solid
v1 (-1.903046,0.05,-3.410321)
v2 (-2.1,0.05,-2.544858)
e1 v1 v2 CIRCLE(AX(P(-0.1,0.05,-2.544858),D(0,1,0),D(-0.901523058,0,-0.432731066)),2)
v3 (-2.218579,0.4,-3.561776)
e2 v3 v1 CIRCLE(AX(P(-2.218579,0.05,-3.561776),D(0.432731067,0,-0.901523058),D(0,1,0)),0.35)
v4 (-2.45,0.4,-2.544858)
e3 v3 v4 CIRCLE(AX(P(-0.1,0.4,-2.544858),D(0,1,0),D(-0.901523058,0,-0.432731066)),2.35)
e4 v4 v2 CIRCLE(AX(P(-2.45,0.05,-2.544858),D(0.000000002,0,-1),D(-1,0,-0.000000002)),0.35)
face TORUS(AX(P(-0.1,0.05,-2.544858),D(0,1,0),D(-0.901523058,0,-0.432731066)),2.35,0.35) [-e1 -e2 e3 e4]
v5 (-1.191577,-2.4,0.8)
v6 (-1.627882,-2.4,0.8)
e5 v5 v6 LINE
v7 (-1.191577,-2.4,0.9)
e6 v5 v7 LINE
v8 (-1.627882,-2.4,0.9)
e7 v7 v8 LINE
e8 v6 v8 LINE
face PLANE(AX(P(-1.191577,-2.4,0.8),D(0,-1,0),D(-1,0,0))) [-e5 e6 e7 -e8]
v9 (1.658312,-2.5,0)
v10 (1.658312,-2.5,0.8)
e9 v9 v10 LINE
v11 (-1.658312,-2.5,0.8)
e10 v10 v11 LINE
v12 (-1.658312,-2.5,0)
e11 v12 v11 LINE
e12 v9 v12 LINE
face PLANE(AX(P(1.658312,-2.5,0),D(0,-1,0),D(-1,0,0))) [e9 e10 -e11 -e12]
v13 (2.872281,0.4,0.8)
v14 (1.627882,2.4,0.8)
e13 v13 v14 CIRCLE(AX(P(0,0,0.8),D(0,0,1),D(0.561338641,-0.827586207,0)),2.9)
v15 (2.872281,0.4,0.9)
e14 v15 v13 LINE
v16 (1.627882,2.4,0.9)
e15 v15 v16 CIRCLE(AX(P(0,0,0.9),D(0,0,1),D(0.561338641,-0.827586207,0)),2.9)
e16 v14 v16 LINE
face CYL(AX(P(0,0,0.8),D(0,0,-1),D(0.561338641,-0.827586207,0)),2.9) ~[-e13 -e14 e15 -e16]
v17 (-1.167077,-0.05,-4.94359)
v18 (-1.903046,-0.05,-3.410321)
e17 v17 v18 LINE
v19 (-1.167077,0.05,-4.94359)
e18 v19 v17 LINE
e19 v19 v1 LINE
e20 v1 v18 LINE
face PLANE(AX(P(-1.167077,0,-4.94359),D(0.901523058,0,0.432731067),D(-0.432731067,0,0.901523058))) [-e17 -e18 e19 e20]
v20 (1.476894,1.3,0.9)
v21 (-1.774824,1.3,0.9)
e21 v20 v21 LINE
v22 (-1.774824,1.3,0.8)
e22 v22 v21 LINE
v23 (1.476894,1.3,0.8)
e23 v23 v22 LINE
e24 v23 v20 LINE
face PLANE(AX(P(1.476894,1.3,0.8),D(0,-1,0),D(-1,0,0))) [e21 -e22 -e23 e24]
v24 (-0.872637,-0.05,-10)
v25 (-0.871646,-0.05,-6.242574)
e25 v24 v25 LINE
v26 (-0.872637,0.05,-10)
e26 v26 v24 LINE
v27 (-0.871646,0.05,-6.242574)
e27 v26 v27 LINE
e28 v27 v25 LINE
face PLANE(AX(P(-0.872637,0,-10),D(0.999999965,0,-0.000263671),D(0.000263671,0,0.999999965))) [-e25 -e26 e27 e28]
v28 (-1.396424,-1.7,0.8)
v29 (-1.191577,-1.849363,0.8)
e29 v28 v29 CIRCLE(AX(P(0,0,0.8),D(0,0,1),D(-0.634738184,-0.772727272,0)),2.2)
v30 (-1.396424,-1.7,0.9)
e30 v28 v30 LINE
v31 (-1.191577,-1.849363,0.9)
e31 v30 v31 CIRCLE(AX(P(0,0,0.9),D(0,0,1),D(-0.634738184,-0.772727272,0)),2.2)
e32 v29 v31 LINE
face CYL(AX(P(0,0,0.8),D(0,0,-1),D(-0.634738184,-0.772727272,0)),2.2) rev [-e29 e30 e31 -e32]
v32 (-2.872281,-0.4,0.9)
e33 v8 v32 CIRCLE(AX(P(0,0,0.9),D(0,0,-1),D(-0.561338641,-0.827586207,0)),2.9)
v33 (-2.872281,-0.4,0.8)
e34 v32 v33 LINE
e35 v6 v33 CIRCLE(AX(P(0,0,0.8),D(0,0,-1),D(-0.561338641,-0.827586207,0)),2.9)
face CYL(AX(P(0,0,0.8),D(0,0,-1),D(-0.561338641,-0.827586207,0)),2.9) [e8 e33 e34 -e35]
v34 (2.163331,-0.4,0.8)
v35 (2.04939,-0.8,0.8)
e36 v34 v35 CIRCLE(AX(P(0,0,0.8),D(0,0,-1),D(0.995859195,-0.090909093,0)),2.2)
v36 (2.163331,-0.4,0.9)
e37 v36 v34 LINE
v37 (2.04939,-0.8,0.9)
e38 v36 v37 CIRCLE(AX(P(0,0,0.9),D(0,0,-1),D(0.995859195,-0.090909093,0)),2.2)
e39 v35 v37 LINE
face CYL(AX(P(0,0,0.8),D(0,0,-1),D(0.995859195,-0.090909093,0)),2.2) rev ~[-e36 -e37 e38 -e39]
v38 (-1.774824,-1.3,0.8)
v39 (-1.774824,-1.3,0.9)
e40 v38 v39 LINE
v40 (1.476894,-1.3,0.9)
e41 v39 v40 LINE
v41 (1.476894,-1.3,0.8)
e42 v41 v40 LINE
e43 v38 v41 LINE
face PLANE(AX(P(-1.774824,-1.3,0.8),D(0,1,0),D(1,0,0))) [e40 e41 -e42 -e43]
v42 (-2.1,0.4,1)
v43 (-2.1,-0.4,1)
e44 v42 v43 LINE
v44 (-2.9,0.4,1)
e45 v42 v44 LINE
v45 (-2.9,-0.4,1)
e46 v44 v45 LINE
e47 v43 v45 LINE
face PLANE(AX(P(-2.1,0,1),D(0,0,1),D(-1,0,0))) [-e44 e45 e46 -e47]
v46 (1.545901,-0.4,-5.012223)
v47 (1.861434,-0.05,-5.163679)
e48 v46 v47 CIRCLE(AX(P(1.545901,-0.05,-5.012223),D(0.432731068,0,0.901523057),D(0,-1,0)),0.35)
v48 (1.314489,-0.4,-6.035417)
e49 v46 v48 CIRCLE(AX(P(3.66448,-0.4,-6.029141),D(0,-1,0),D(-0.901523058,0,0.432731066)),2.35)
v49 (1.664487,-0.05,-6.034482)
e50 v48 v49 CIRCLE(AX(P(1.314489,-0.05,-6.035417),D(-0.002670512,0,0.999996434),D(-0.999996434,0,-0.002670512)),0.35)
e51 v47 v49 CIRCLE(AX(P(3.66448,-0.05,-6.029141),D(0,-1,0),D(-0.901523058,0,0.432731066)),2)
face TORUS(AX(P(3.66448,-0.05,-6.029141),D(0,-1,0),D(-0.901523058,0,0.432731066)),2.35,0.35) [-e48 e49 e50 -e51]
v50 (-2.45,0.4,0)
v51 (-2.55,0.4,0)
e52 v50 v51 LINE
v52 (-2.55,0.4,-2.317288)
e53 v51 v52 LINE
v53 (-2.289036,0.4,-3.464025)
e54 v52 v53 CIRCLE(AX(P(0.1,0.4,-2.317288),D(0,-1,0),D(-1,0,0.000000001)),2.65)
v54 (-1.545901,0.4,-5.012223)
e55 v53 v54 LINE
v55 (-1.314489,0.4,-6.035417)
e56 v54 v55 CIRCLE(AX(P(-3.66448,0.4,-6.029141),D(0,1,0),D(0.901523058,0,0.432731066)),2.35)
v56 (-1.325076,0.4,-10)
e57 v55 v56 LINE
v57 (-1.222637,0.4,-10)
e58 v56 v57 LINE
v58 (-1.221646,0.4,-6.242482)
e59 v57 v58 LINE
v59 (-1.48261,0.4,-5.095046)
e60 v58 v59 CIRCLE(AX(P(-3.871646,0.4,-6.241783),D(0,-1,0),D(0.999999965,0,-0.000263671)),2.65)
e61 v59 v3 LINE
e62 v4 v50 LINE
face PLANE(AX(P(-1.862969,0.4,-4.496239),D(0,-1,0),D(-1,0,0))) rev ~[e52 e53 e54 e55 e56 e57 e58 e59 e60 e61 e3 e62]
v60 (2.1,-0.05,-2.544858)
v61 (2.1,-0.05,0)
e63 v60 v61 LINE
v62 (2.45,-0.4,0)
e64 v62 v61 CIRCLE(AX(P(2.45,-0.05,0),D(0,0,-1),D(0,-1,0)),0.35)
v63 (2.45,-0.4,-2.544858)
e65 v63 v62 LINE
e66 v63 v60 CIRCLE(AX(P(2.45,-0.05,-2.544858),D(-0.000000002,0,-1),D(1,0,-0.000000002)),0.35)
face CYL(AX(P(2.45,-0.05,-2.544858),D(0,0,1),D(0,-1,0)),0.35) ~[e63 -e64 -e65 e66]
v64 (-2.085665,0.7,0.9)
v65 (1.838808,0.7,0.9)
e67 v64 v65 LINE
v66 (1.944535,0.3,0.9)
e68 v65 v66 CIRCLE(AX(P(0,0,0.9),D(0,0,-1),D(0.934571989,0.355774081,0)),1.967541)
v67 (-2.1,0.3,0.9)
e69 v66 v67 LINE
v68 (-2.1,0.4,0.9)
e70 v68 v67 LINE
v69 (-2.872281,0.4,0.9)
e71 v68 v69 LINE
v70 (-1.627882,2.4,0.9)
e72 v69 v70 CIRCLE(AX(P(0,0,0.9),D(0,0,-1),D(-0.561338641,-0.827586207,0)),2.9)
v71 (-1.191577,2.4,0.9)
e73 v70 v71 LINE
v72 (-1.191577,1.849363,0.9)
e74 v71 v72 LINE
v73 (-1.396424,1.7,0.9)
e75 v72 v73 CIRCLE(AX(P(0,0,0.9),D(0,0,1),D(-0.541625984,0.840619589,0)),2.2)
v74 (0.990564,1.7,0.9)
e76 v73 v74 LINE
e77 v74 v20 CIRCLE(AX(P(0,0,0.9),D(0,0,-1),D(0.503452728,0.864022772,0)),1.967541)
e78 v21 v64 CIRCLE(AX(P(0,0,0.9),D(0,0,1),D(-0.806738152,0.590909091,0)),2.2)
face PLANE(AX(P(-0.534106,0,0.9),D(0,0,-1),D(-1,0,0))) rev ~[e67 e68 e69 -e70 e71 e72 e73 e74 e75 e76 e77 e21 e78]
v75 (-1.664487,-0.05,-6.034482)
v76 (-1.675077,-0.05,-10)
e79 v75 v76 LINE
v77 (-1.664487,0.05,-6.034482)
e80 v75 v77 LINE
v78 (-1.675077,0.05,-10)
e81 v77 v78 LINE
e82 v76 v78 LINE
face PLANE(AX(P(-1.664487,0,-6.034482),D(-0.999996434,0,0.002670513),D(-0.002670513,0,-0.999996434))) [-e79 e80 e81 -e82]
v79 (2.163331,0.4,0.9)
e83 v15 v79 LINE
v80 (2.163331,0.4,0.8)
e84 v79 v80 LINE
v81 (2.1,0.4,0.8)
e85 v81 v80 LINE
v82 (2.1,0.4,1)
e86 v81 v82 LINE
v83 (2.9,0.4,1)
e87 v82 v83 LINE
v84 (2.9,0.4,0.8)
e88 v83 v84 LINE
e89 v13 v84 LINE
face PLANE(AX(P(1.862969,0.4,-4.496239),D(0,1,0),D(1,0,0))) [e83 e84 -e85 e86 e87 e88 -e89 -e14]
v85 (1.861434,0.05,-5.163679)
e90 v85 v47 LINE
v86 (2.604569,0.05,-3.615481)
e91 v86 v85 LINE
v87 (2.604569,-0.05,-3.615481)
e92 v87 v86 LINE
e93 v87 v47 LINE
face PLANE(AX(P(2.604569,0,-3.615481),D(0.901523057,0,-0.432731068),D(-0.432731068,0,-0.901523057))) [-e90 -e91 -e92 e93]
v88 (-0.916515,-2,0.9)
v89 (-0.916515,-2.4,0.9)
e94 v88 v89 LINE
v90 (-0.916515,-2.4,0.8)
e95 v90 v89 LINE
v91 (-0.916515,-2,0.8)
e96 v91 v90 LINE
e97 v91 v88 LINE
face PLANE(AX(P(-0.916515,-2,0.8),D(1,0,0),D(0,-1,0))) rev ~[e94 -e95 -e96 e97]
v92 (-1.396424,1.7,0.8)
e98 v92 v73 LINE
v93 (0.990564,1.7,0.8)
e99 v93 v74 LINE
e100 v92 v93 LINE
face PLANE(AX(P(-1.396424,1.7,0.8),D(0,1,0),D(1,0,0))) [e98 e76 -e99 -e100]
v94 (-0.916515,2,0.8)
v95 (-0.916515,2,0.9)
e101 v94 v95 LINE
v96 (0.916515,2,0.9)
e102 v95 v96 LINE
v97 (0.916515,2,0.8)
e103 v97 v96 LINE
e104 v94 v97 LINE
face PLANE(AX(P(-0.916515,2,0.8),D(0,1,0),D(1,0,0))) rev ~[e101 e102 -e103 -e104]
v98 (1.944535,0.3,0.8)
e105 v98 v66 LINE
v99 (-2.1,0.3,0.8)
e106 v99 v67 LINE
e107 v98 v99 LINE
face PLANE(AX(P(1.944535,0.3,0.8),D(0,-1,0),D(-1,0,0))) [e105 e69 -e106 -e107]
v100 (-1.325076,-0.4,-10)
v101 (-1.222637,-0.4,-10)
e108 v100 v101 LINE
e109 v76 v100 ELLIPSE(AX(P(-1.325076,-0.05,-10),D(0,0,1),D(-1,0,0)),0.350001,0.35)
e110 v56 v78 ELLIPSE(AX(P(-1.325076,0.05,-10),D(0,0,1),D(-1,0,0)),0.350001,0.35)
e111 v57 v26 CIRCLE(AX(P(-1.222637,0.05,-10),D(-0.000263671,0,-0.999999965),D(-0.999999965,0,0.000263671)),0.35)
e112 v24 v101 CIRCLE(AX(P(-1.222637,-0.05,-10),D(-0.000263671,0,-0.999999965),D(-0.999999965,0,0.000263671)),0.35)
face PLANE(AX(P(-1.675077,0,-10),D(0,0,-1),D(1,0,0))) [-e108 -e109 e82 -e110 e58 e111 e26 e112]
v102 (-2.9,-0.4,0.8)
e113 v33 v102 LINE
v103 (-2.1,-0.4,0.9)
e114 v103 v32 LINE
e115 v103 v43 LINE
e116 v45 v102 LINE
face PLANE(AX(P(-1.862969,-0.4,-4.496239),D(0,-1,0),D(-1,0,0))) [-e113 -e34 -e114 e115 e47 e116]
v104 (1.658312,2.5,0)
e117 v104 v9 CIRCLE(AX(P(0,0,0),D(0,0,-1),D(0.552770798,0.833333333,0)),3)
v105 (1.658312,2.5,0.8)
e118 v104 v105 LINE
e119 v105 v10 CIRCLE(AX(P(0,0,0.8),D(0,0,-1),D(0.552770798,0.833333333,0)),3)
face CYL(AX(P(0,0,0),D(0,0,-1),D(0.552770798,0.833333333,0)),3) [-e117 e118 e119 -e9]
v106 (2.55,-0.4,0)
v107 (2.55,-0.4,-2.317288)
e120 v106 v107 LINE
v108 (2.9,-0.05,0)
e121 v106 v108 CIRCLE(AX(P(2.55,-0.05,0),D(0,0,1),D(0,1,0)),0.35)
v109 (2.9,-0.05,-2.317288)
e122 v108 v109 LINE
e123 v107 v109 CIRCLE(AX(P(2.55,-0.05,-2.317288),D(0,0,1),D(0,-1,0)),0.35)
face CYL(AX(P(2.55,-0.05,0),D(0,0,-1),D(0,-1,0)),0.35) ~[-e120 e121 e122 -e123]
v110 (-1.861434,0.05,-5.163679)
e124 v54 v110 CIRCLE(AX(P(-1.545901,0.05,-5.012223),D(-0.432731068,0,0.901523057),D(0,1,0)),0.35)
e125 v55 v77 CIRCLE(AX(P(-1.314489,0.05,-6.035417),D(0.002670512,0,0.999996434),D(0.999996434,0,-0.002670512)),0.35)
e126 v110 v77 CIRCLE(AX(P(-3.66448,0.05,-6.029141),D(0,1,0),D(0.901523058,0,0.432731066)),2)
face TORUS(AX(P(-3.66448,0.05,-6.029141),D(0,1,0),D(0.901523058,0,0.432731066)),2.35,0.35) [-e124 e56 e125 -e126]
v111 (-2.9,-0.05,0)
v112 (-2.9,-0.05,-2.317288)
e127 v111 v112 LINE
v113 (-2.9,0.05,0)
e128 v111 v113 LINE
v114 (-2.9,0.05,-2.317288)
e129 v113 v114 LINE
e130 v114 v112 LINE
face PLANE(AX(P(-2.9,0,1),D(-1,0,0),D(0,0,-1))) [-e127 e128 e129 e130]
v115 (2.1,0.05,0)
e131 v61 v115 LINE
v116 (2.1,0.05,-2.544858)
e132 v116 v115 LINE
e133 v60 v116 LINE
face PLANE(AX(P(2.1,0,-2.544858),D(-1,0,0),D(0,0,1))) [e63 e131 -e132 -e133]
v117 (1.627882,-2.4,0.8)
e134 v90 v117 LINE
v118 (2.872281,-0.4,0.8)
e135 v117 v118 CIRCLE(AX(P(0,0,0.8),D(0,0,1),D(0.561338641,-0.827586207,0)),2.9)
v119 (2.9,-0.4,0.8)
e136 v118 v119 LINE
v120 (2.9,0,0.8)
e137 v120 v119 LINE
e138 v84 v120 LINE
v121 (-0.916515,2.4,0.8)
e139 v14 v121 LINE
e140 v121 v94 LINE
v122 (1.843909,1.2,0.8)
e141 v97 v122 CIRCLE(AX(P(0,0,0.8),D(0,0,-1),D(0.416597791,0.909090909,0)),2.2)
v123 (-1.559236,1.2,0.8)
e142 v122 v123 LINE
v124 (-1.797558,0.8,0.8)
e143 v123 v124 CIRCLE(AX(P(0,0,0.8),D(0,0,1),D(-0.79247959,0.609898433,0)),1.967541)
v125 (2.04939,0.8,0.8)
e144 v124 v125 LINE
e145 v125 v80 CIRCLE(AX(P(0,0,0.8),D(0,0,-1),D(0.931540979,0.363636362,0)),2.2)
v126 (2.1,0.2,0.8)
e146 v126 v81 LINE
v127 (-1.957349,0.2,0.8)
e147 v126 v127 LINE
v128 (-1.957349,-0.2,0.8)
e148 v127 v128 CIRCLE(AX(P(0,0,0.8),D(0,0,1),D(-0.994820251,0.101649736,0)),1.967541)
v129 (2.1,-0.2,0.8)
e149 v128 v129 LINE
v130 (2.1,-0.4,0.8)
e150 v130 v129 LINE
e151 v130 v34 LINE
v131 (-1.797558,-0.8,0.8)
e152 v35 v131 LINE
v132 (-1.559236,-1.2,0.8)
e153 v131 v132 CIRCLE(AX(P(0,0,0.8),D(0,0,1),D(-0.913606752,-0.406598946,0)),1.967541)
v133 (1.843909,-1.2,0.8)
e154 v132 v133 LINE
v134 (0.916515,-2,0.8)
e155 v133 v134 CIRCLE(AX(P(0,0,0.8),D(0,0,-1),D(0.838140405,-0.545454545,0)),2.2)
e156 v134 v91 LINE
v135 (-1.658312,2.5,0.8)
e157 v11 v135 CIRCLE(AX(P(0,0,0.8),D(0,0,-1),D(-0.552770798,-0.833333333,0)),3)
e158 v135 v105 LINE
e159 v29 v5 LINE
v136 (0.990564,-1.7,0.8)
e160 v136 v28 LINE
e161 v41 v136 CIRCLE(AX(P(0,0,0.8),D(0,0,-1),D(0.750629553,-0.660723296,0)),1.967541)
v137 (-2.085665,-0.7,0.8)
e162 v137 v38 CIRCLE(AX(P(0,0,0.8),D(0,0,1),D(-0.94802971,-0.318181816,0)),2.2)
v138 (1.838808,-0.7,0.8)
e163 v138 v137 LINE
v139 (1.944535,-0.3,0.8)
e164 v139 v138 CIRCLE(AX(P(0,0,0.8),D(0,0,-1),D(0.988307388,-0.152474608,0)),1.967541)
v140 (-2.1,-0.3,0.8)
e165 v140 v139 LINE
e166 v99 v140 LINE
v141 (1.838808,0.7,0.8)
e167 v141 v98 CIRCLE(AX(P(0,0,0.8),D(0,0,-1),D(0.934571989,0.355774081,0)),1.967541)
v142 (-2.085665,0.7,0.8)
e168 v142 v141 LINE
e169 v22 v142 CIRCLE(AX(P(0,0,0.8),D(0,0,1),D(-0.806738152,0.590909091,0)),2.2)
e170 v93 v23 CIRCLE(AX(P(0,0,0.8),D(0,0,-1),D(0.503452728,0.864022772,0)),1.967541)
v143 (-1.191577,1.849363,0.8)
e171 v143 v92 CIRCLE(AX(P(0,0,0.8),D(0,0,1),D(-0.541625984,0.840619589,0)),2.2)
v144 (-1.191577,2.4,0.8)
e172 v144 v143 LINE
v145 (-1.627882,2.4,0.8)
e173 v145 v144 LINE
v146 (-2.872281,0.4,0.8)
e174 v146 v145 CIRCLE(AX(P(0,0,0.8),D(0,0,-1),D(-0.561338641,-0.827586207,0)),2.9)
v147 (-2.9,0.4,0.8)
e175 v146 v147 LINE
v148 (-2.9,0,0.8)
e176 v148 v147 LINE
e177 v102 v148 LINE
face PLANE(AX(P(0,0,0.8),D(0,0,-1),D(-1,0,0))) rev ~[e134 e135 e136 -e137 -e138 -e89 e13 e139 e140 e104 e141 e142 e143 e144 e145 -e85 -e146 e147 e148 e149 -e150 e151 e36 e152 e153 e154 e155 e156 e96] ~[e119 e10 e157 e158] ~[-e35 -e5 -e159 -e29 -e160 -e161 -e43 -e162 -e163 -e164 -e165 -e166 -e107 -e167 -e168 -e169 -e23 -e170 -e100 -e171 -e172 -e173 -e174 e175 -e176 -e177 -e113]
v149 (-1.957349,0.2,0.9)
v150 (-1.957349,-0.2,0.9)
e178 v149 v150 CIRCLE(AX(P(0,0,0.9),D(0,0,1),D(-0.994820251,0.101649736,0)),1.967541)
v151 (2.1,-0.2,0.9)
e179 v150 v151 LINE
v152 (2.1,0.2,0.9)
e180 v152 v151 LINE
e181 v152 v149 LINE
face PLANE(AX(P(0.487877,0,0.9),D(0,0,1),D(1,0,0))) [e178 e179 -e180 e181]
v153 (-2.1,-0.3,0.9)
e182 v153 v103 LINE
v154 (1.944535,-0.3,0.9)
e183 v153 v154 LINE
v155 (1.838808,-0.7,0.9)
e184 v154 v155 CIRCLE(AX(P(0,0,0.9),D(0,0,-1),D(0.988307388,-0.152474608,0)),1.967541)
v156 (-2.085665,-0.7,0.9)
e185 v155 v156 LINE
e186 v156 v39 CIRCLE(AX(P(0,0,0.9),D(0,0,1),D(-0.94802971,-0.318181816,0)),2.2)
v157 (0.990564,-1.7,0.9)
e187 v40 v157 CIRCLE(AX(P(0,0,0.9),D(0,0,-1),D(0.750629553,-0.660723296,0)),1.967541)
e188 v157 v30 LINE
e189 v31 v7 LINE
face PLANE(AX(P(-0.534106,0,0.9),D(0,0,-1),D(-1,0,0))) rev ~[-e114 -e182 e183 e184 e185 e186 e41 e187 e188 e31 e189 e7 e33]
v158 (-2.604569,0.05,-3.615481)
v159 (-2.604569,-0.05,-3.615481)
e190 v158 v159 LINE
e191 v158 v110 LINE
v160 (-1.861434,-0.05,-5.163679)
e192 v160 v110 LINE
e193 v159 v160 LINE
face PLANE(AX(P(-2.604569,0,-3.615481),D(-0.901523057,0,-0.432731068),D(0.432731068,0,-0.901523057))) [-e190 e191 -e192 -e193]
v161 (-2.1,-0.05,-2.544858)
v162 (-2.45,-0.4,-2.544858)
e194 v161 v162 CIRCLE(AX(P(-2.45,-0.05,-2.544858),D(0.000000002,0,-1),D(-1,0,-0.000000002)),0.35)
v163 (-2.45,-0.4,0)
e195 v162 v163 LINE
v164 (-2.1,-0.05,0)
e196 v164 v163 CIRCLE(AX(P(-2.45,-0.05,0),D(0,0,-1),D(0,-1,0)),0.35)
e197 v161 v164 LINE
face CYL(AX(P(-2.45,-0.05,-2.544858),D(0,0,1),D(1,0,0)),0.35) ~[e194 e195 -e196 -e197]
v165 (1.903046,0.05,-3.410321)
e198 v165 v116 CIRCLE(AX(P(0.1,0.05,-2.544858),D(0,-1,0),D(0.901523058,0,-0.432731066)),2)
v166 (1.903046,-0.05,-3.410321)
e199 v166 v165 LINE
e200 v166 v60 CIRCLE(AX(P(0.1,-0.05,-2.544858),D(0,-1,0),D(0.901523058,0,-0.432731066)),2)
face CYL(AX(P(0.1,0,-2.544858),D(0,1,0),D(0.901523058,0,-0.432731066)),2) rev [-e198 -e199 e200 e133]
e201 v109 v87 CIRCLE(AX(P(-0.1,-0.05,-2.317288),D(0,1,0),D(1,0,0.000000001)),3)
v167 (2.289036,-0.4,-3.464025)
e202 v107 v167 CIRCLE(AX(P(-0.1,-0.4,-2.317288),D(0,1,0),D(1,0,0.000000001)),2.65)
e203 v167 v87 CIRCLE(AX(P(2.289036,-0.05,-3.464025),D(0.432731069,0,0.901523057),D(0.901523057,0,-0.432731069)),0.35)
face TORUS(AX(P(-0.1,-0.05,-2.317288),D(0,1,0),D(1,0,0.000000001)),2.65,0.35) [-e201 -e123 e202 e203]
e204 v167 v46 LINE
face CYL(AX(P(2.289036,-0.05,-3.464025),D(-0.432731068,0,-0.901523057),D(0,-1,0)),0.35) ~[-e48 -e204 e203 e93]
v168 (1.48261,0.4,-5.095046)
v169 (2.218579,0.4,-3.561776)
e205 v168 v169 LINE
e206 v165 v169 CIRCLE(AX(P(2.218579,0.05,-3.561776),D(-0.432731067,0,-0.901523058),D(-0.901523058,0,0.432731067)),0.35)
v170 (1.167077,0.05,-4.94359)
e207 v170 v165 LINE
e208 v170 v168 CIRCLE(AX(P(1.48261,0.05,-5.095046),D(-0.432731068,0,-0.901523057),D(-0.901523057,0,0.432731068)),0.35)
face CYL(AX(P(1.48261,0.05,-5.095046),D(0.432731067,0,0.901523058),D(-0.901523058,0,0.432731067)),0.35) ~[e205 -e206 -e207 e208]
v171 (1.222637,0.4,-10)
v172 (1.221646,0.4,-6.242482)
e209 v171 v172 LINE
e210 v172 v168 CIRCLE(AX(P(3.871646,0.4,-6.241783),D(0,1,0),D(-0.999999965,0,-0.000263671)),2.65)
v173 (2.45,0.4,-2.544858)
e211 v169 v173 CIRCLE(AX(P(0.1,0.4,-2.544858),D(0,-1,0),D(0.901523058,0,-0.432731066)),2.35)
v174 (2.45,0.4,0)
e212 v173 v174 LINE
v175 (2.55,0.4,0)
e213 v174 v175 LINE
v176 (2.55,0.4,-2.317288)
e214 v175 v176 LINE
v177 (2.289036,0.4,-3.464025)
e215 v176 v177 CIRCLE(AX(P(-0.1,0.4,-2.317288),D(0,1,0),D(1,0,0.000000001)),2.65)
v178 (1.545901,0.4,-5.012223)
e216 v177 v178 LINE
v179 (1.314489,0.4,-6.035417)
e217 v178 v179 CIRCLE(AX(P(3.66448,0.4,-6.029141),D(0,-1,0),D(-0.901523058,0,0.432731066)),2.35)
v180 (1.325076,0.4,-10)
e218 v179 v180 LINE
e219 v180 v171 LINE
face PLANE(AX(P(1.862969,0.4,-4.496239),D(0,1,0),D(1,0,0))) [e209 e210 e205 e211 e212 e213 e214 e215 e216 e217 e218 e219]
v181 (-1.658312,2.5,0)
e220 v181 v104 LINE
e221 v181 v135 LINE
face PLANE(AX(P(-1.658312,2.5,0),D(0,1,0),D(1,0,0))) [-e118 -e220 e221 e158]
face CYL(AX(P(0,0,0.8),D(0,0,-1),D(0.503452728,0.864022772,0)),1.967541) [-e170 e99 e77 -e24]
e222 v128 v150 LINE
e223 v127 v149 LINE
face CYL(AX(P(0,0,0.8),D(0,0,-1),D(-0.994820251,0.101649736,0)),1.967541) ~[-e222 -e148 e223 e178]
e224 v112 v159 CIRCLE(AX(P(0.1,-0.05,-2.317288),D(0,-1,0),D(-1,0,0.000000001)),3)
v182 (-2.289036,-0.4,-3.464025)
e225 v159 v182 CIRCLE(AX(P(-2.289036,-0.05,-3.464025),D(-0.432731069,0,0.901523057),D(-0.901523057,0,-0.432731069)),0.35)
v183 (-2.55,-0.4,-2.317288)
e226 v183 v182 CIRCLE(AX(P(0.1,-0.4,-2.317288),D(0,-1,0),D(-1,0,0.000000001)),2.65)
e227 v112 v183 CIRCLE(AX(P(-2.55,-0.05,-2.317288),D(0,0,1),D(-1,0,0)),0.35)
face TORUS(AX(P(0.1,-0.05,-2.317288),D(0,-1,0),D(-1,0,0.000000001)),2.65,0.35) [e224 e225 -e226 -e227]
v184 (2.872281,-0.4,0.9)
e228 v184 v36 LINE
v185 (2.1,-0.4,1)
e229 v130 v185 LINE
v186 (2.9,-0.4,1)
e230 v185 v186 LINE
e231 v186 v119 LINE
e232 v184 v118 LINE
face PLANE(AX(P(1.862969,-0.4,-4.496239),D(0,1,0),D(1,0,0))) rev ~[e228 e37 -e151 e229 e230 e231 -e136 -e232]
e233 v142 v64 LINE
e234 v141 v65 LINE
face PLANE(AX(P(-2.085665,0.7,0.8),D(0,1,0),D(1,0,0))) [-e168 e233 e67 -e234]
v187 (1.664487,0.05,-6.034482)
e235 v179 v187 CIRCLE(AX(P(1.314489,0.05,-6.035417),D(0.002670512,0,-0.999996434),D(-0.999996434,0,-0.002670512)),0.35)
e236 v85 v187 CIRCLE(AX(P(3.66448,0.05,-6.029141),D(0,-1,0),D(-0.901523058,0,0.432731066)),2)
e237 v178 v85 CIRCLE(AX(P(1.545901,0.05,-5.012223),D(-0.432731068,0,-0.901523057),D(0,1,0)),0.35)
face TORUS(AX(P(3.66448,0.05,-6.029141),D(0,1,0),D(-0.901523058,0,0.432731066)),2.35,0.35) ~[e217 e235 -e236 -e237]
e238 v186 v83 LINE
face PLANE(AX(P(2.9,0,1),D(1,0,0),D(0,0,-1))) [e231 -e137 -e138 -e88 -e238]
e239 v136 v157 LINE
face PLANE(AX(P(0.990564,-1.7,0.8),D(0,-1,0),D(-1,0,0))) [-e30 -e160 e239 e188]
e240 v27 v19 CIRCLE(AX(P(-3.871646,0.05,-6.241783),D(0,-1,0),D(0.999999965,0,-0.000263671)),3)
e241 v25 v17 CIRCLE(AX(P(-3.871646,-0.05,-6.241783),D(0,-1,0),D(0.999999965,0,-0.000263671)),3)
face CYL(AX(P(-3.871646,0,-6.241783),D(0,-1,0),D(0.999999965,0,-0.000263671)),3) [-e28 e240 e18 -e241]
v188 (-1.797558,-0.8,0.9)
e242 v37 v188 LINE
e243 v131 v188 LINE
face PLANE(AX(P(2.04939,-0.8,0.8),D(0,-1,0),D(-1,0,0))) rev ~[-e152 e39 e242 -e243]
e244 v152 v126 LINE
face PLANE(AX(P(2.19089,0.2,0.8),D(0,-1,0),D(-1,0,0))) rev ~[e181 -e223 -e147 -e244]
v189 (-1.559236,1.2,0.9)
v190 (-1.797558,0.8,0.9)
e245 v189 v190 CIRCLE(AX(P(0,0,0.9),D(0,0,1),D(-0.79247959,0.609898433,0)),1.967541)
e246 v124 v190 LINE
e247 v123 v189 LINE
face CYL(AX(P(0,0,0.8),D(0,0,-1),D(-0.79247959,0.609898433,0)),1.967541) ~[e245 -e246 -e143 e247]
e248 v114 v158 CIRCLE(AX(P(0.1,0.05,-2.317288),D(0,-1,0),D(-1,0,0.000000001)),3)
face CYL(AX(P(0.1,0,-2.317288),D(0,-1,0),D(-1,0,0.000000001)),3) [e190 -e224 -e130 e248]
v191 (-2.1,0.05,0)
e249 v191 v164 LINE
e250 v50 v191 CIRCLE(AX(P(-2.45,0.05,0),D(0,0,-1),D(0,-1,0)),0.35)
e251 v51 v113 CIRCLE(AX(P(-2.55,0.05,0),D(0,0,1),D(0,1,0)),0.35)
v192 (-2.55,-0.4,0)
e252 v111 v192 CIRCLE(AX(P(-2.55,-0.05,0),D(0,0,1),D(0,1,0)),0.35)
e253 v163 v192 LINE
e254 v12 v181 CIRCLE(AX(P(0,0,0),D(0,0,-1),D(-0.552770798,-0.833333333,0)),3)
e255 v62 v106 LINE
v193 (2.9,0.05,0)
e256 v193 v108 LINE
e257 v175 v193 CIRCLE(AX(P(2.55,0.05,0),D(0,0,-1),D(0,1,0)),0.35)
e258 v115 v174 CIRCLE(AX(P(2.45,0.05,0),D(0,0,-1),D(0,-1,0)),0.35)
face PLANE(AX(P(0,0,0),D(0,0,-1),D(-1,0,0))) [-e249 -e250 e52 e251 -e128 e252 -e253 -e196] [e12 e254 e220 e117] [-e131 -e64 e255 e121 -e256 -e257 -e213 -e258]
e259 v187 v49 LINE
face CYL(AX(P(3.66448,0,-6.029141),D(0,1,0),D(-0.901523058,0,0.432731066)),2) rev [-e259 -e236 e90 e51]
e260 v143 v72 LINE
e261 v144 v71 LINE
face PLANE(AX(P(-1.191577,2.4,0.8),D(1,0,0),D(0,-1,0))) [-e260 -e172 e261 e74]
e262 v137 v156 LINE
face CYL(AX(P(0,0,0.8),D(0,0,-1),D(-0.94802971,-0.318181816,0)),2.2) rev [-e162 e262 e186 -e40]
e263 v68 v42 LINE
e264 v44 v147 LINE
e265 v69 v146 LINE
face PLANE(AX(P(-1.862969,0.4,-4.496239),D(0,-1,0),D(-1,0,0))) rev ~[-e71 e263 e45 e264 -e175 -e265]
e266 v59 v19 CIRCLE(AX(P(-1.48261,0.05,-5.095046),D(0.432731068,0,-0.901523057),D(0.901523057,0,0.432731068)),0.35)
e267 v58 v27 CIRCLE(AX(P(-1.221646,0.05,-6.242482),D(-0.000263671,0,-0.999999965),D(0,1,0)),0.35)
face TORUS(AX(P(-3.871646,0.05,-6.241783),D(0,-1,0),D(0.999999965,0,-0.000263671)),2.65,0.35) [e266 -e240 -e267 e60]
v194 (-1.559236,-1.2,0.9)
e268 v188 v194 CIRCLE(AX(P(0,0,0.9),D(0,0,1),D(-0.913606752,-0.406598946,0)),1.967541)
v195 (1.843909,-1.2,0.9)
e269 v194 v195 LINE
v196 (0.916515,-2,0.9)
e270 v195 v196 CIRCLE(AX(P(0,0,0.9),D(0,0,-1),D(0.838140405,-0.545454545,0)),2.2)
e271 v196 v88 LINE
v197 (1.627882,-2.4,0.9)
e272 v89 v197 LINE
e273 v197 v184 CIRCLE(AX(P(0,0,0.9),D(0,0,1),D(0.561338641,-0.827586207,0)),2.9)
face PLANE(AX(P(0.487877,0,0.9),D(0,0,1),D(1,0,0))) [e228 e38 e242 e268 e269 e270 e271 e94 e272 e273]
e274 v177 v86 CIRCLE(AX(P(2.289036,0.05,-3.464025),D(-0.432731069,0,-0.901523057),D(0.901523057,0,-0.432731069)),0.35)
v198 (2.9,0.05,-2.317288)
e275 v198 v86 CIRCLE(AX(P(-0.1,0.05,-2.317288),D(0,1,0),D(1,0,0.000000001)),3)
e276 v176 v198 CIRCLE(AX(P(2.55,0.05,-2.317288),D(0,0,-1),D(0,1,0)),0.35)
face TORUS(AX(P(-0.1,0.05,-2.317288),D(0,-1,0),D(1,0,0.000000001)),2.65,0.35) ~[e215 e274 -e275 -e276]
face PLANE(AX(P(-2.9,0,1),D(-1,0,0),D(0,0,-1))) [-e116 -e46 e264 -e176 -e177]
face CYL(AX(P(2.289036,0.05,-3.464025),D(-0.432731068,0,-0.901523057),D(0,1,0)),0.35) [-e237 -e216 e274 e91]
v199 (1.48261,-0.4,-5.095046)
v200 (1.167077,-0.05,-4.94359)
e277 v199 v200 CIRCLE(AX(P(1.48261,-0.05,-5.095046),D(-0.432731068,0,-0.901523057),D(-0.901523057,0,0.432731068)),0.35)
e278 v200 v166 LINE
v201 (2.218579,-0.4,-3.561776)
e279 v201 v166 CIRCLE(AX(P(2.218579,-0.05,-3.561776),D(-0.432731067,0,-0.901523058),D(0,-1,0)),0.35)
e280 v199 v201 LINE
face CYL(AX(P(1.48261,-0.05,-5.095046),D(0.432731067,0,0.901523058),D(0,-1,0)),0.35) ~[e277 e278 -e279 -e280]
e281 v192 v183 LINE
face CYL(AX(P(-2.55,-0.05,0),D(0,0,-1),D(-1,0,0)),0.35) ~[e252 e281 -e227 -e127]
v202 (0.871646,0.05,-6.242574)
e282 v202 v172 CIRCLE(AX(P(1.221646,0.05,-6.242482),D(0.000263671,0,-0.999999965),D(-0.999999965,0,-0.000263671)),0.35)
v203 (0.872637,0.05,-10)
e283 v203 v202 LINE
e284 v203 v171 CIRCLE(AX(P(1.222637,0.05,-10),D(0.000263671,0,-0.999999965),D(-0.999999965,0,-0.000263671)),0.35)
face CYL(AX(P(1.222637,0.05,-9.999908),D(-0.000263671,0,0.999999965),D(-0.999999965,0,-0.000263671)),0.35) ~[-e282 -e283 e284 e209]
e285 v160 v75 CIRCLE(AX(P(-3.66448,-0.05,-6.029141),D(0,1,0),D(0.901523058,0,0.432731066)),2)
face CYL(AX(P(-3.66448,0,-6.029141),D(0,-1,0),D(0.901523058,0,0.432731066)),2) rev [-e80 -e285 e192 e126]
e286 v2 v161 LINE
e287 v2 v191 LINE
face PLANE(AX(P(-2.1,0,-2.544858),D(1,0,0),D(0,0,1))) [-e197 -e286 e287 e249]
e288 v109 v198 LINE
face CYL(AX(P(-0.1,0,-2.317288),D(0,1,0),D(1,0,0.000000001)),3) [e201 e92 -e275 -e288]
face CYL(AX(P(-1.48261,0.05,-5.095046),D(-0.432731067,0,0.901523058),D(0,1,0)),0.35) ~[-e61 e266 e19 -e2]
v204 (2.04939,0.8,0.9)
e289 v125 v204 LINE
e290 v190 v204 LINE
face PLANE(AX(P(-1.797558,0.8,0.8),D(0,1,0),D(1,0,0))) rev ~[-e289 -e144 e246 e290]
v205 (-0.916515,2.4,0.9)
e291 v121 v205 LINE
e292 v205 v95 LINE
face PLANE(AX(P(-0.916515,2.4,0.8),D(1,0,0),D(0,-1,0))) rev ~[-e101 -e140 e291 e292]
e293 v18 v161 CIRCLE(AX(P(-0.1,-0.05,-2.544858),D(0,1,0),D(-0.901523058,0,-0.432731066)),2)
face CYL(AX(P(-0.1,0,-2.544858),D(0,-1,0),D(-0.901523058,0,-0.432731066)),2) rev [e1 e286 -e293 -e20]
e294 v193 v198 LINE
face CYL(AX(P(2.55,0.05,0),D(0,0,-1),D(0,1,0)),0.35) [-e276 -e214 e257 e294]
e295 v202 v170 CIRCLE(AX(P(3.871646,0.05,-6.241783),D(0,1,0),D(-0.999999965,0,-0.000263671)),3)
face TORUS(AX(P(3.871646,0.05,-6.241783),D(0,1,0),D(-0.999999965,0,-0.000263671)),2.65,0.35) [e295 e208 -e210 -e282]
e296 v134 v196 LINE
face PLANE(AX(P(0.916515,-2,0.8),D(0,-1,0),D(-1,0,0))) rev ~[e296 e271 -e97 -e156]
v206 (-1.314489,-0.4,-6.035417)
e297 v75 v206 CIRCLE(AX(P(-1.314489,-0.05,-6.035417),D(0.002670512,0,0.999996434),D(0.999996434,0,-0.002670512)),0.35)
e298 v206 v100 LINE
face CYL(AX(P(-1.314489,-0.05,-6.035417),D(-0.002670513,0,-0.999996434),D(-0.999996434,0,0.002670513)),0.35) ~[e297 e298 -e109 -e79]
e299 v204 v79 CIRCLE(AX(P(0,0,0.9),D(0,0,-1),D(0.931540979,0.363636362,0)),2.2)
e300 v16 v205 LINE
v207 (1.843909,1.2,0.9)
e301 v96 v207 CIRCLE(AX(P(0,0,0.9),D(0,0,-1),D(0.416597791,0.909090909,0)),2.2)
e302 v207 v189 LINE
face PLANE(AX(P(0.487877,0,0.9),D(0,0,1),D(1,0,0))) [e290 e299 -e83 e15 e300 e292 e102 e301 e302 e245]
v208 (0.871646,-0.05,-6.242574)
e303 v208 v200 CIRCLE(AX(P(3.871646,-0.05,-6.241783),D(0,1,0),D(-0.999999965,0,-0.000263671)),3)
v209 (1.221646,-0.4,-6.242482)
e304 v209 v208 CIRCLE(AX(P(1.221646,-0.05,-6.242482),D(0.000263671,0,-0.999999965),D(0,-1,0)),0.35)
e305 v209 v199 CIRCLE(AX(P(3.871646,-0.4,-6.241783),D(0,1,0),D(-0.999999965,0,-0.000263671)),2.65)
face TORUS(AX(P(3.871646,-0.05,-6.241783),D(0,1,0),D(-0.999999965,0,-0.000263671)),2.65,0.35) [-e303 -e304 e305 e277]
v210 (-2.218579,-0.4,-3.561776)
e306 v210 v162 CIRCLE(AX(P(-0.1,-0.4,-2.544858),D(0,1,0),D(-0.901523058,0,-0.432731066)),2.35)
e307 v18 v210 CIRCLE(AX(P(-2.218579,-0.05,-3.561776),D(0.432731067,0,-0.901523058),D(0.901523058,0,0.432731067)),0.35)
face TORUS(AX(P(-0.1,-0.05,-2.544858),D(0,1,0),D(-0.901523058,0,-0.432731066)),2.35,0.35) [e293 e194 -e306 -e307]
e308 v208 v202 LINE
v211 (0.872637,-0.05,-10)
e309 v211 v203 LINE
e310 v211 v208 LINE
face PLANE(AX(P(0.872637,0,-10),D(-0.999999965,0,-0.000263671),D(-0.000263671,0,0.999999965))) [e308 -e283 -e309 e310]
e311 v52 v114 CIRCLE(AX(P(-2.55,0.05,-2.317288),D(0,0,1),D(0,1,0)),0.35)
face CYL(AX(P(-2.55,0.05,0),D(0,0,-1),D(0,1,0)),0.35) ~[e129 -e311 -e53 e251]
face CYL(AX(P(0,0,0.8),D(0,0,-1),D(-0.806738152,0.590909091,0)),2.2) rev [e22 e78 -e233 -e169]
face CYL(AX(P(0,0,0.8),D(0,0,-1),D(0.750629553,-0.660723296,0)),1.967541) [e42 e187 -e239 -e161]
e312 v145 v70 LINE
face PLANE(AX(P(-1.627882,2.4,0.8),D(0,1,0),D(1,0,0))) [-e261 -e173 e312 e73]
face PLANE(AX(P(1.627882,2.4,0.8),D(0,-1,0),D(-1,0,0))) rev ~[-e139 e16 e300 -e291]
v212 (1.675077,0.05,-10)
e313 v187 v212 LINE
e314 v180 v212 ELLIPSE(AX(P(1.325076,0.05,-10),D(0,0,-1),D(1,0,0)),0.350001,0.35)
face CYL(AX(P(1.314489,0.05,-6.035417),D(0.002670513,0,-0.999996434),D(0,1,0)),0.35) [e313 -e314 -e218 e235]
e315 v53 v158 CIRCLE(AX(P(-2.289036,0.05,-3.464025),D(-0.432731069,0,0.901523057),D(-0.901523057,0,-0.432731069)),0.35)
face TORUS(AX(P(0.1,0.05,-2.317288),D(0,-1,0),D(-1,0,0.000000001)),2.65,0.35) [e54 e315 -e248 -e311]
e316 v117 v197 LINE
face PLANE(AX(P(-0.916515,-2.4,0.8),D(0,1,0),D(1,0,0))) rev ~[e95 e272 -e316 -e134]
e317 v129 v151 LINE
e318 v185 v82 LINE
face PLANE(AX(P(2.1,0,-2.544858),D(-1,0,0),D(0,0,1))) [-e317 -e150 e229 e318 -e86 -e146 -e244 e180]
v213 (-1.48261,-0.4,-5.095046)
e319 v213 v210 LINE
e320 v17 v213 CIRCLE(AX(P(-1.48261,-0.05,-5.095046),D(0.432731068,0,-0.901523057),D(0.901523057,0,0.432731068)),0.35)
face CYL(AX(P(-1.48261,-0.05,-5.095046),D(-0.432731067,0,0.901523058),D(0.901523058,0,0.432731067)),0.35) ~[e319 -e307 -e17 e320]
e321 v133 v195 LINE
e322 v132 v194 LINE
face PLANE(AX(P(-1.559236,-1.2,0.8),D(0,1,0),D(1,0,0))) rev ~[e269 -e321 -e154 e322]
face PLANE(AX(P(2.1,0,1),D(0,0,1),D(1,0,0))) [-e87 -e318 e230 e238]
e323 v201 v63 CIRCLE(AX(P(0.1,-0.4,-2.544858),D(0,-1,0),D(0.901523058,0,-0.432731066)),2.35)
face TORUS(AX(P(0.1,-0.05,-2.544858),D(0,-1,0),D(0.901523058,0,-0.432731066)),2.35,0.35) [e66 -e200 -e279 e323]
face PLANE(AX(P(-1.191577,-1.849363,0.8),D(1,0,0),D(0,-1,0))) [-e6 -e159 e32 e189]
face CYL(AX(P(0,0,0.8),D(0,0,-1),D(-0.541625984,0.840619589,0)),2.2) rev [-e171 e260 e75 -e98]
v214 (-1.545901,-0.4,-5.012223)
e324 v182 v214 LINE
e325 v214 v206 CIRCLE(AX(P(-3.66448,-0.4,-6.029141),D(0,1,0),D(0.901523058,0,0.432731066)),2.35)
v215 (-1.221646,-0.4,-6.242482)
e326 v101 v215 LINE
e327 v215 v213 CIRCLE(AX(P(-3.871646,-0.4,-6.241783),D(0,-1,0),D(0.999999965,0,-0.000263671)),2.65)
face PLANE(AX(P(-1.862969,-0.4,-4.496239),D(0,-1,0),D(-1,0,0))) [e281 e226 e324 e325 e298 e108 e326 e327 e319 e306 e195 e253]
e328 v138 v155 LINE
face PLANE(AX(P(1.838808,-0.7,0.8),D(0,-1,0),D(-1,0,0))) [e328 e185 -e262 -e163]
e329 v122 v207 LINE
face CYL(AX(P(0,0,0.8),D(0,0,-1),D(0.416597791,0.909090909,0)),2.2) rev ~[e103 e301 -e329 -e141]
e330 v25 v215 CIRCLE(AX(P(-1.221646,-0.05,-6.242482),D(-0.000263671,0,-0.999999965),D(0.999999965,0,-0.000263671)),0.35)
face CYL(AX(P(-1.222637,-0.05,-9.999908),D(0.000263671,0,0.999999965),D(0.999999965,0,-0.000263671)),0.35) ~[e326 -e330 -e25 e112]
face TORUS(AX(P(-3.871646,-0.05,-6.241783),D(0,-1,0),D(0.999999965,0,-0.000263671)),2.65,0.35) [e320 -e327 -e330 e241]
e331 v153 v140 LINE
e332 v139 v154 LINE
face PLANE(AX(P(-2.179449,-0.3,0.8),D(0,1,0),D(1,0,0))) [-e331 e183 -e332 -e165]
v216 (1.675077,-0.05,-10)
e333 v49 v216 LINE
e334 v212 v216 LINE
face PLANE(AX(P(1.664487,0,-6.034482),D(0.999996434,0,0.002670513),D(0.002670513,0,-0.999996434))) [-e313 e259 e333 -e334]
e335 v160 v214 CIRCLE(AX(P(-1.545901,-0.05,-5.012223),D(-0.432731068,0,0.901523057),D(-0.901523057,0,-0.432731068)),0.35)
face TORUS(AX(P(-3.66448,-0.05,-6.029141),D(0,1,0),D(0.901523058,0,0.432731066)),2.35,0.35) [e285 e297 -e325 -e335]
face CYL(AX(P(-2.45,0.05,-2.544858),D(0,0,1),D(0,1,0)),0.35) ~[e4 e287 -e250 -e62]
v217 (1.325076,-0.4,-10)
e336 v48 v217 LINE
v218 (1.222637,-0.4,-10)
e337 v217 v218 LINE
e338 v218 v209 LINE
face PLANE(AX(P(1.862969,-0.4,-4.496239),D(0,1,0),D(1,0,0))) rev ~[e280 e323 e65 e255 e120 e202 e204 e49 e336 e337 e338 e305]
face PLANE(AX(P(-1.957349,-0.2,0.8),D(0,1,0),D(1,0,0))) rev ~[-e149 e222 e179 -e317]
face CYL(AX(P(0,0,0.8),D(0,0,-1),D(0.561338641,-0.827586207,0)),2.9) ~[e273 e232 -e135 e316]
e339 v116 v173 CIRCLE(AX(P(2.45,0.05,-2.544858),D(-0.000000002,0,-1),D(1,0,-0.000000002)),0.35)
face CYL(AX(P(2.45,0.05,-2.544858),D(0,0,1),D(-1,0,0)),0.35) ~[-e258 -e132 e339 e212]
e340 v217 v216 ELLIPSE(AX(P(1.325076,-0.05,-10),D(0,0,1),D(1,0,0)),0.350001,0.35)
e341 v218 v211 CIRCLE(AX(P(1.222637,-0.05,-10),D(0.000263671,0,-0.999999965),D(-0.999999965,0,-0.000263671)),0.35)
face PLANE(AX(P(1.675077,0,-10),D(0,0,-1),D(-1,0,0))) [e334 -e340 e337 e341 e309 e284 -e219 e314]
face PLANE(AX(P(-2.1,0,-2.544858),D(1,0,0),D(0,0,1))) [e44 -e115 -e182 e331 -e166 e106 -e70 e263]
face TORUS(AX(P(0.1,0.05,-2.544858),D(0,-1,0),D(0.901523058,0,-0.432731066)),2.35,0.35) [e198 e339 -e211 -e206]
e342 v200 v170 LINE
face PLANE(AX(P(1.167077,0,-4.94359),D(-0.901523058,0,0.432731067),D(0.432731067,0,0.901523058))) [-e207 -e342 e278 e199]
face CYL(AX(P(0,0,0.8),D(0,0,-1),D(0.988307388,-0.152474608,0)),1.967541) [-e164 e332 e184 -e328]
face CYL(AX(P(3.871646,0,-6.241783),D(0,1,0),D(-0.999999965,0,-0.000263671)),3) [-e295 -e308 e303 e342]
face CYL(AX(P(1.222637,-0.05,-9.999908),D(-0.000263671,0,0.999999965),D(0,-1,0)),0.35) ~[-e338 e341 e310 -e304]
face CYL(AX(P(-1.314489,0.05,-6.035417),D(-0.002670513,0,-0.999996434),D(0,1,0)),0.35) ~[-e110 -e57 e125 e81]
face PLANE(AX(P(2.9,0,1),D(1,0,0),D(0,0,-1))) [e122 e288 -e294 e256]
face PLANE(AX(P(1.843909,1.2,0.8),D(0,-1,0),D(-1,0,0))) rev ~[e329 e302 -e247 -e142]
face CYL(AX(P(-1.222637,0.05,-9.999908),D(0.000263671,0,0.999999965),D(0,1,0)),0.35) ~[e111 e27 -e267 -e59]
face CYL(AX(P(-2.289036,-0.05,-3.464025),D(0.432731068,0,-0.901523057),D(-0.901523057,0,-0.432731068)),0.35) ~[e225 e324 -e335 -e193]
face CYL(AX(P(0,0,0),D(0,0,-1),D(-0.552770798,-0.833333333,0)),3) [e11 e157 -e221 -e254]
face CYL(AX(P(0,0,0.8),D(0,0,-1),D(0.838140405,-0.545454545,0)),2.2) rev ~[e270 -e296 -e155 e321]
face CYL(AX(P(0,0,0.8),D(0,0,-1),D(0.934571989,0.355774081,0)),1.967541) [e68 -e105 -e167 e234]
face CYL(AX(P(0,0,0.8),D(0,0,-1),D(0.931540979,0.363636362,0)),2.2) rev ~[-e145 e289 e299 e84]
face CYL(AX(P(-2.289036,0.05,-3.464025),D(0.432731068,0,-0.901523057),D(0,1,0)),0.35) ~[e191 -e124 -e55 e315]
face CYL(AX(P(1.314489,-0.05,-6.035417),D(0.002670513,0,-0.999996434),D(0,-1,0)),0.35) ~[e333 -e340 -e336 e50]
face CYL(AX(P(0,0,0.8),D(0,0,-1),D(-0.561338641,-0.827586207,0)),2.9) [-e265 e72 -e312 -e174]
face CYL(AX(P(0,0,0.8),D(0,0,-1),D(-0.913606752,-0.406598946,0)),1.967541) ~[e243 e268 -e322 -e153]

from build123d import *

# Parameters (mm, degrees)
BASE_EXTRUSION_DEPTH = 0.8
BOSS_EXTRU_1_DEPTH   = 0.1
BOSS_EXTRU_2_DEPTH   = 0.4
CONG_1_R             = 0.35


with BuildPart() as part:
    # Esquisse1 → Base-Extrusion (new body)
    with BuildSketch(Plane.XY):
        with BuildLine():
            Line((-1.658312395, 2.5), (1.658312395, 2.5))
            ThreePointArc((1.658312395, 2.5), (3, 0), (1.658312395, -2.5))
            Line((1.658312395, -2.5), (-1.658312395, -2.5))
            ThreePointArc((-1.658312395, -2.5), (-3, 0), (-1.658312395, 2.5))
        make_face()
    extrude(amount=BASE_EXTRUSION_DEPTH)

    # Esquisse2 → Boss.-Extru.1 (add)
    with BuildSketch(Plane.XY.offset(0.8)):
        with BuildLine():
            Line((-0.916515139, -2.4), (1.62788206, -2.4))
            ThreePointArc((1.62788206, -2.4), (2.9, 0), (1.62788206, 2.4))
            Line((1.62788206, 2.4), (-0.916515139, 2.4))
            Line((-0.916515139, 2.4), (-0.916515139, 2))
            Line((-0.916515139, 2), (0.916515139, 2))
            ThreePointArc((0.916515139, 2), (1.437005639, 1.665837565), (1.843908891, 1.2))
            Line((1.843908891, 1.2), (-1.559235883, 1.2))
            ThreePointArc((-1.559235883, 1.2), (-1.690271317, 1.007074683), (-1.797558494, 0.8))
            Line((-1.797558494, 0.8), (2.049390153, 0.8))
            ThreePointArc((2.049390153, 0.8), (2.14126001, 0.50498076), (2.19089023, 0.2))
            Line((2.19089023, 0.2), (-1.957349366, 0.2))
            ThreePointArc((-1.957349366, 0.2), (-1.967540734, 0), (-1.957349366, -0.2))
            Line((-1.957349366, -0.2), (2.19089023, -0.2))
            ThreePointArc((2.19089023, -0.2), (2.14126001, -0.50498076), (2.049390153, -0.8))
            Line((2.049390153, -0.8), (-1.797558494, -0.8))
            ThreePointArc((-1.797558494, -0.8), (-1.690271317, -1.007074683), (-1.559235883, -1.2))
            Line((-1.559235883, -1.2), (1.843908891, -1.2))
            ThreePointArc((1.843908891, -1.2), (1.437005639, -1.665837565), (0.916515139, -2))
            Line((0.916515139, -2), (-0.916515139, -2))
            Line((-0.916515139, -2), (-0.916515139, -2.4))
        make_face()
        with BuildLine():
            Line((-1.191577163, -1.849363097), (-1.191577163, -2.4))
            Line((-1.191577163, -2.4), (-1.62788206, -2.4))
            ThreePointArc((-1.62788206, -2.4), (-2.9, 0), (-1.62788206, 2.4))
            Line((-1.62788206, 2.4), (-1.191577163, 2.4))
            Line((-1.191577163, 2.4), (-1.191577163, 1.849363097))
            ThreePointArc((-1.191577163, 1.849363097), (-1.296153866, 1.777634708), (-1.396424004, 1.7))
            Line((-1.396424004, 1.7), (0.990563749, 1.7))
            ThreePointArc((0.990563749, 1.7), (1.249834872, 1.51958196), (1.476894221, 1.3))
            Line((1.476894221, 1.3), (-1.774823935, 1.3))
            ThreePointArc((-1.774823935, 1.3), (-1.953418645, 1.01200573), (-2.085665361, 0.7))
            Line((-2.085665361, 0.7), (1.838808457, 0.7))
            ThreePointArc((1.838808457, 0.7), (1.902215028, 0.502786762), (1.944535045, 0.3))
            Line((1.944535045, 0.3), (-2.179449472, 0.3))
            ThreePointArc((-2.179449472, 0.3), (-2.2, 0), (-2.179449472, -0.3))
            Line((-2.179449472, -0.3), (1.944535045, -0.3))
            ThreePointArc((1.944535045, -0.3), (1.902215028, -0.502786762), (1.838808457, -0.7))
            Line((1.838808457, -0.7), (-2.085665361, -0.7))
            ThreePointArc((-2.085665361, -0.7), (-1.953418645, -1.01200573), (-1.774823935, -1.3))
            Line((-1.774823935, -1.3), (1.476894221, -1.3))
            ThreePointArc((1.476894221, -1.3), (1.249834872, -1.51958196), (0.990563749, -1.7))
            Line((0.990563749, -1.7), (-1.396424004, -1.7))
            ThreePointArc((-1.396424004, -1.7), (-1.296153866, -1.777634708), (-1.191577163, -1.849363097))
        make_face()
    extrude(amount=BOSS_EXTRU_1_DEPTH)

    # Esquisse11 → Boss.-Extru.2 (add, symmetric)
    with BuildSketch(Plane(origin=(0, 0, 0), x_dir=(1, 0, 0), z_dir=(0, 1, 0))):
        with BuildLine():
            Line((-1.675077348, 10), (-0.872636816, 10))
            Line((-0.872636816, 10), (-0.87164609, 6.242574189))
            ThreePointArc((-0.87164609, 6.242574189), (-0.946348213, 5.576476525), (-1.167076814, 4.943589972))
            Line((-1.167076814, 4.943589972), (-1.903046115, 3.410320594))
            ThreePointArc((-1.903046115, 3.410320594), (-2.050140024, 2.988653327), (-2.1, 2.544858459))
            Line((-2.1, 2.544858459), (-2.1, -1))
            Line((-2.1, -1), (-2.9, -1))
            Line((-2.9, -1), (-2.9, 2.317287688))
            ThreePointArc((-2.9, 2.317287688), (-2.825210037, 2.98297999), (-2.604569172, 3.615480891))
            Line((-2.604569172, 3.615480891), (-1.861434096, 5.163678966))
            ThreePointArc((-1.861434096, 5.163678966), (-1.713749345, 5.587950568), (-1.664487343, 6.034482127))
            Line((-1.664487343, 6.034482127), (-1.675077348, 10))
        make_face()
        with BuildLine():
            Line((1.675077348, 10), (0.872636816, 10))
            Line((0.872636816, 10), (0.87164609, 6.242574189))
            ThreePointArc((0.87164609, 6.242574189), (0.946348213, 5.576476525), (1.167076814, 4.943589972))
            Line((1.167076814, 4.943589972), (1.903046115, 3.410320594))
            ThreePointArc((1.903046115, 3.410320594), (2.050140024, 2.988653327), (2.1, 2.544858459))
            Line((2.1, 2.544858459), (2.1, -1))
            Line((2.1, -1), (2.9, -1))
            Line((2.9, -1), (2.9, 2.317287688))
            ThreePointArc((2.9, 2.317287688), (2.825210037, 2.98297999), (2.604569172, 3.615480891))
            Line((2.604569172, 3.615480891), (1.861434096, 5.163678966))
            ThreePointArc((1.861434096, 5.163678966), (1.713749345, 5.587950568), (1.664487343, 6.034482127))
            Line((1.664487343, 6.034482127), (1.675077348, 10))
        make_face()
    extrude(amount=BOSS_EXTRU_2_DEPTH, both=True)

    # Congé1
    cong_1_edges = [part.edges().sort_by_distance(p)[0] for p in [
        (-2.9, -0.4, -1.158643844),
        (-2.1, -0.4, -1.272429229),
        (-2.1, 0.4, -1.272429229),
        (-2.050140024, 0.4, -2.988653327),
        (-1.535061464, 0.4, -4.176955283),
        (-0.946348213, 0.4, -5.576476525),
        (-0.872141453, 0.4, -8.121287094),
        (-1.669782345, 0.4, -8.017241064),
        (-1.713749345, 0.4, -5.587950568),
        (-2.233001634, 0.4, -4.389579928),
        (-2.825210037, 0.4, -2.98297999),
        (-2.9, 0.4, -1.158643844),
        (-2.050140024, -0.4, -2.988653327),
        (-1.535061464, -0.4, -4.176955283),
        (-0.946348213, -0.4, -5.576476525),
        (-0.872141453, -0.4, -8.121287094),
        (-1.669782345, -0.4, -8.017241064),
        (-1.713749345, -0.4, -5.587950568),
        (-2.233001634, -0.4, -4.389579928),
        (-2.825210037, -0.4, -2.98297999),
        (2.1, -0.4, -1.272429229),
        (2.9, -0.4, -1.158643844),
        (2.9, 0.4, -1.158643844),
        (2.825210037, 0.4, -2.98297999),
        (2.233001634, 0.4, -4.389579928),
        (1.713749345, 0.4, -5.587950568),
        (1.669782345, 0.4, -8.017241064),
        (0.872141453, 0.4, -8.121287094),
        (0.946348213, 0.4, -5.576476525),
        (1.535061464, 0.4, -4.176955283),
        (2.050140024, 0.4, -2.988653327),
        (2.1, 0.4, -1.272429229),
        (1.669782345, -0.4, -8.017241064),
        (0.872141453, -0.4, -8.121287094),
        (0.946348213, -0.4, -5.576476525),
        (1.535061464, -0.4, -4.176955283),
        (2.050140024, -0.4, -2.988653327),
        (2.825210037, -0.4, -2.98297999),
        (2.233001634, -0.4, -4.389579928),
        (1.713749345, -0.4, -5.587950568),
    ]]
    fillet(cong_1_edges, radius=CONG_1_R)


solid = part.part
